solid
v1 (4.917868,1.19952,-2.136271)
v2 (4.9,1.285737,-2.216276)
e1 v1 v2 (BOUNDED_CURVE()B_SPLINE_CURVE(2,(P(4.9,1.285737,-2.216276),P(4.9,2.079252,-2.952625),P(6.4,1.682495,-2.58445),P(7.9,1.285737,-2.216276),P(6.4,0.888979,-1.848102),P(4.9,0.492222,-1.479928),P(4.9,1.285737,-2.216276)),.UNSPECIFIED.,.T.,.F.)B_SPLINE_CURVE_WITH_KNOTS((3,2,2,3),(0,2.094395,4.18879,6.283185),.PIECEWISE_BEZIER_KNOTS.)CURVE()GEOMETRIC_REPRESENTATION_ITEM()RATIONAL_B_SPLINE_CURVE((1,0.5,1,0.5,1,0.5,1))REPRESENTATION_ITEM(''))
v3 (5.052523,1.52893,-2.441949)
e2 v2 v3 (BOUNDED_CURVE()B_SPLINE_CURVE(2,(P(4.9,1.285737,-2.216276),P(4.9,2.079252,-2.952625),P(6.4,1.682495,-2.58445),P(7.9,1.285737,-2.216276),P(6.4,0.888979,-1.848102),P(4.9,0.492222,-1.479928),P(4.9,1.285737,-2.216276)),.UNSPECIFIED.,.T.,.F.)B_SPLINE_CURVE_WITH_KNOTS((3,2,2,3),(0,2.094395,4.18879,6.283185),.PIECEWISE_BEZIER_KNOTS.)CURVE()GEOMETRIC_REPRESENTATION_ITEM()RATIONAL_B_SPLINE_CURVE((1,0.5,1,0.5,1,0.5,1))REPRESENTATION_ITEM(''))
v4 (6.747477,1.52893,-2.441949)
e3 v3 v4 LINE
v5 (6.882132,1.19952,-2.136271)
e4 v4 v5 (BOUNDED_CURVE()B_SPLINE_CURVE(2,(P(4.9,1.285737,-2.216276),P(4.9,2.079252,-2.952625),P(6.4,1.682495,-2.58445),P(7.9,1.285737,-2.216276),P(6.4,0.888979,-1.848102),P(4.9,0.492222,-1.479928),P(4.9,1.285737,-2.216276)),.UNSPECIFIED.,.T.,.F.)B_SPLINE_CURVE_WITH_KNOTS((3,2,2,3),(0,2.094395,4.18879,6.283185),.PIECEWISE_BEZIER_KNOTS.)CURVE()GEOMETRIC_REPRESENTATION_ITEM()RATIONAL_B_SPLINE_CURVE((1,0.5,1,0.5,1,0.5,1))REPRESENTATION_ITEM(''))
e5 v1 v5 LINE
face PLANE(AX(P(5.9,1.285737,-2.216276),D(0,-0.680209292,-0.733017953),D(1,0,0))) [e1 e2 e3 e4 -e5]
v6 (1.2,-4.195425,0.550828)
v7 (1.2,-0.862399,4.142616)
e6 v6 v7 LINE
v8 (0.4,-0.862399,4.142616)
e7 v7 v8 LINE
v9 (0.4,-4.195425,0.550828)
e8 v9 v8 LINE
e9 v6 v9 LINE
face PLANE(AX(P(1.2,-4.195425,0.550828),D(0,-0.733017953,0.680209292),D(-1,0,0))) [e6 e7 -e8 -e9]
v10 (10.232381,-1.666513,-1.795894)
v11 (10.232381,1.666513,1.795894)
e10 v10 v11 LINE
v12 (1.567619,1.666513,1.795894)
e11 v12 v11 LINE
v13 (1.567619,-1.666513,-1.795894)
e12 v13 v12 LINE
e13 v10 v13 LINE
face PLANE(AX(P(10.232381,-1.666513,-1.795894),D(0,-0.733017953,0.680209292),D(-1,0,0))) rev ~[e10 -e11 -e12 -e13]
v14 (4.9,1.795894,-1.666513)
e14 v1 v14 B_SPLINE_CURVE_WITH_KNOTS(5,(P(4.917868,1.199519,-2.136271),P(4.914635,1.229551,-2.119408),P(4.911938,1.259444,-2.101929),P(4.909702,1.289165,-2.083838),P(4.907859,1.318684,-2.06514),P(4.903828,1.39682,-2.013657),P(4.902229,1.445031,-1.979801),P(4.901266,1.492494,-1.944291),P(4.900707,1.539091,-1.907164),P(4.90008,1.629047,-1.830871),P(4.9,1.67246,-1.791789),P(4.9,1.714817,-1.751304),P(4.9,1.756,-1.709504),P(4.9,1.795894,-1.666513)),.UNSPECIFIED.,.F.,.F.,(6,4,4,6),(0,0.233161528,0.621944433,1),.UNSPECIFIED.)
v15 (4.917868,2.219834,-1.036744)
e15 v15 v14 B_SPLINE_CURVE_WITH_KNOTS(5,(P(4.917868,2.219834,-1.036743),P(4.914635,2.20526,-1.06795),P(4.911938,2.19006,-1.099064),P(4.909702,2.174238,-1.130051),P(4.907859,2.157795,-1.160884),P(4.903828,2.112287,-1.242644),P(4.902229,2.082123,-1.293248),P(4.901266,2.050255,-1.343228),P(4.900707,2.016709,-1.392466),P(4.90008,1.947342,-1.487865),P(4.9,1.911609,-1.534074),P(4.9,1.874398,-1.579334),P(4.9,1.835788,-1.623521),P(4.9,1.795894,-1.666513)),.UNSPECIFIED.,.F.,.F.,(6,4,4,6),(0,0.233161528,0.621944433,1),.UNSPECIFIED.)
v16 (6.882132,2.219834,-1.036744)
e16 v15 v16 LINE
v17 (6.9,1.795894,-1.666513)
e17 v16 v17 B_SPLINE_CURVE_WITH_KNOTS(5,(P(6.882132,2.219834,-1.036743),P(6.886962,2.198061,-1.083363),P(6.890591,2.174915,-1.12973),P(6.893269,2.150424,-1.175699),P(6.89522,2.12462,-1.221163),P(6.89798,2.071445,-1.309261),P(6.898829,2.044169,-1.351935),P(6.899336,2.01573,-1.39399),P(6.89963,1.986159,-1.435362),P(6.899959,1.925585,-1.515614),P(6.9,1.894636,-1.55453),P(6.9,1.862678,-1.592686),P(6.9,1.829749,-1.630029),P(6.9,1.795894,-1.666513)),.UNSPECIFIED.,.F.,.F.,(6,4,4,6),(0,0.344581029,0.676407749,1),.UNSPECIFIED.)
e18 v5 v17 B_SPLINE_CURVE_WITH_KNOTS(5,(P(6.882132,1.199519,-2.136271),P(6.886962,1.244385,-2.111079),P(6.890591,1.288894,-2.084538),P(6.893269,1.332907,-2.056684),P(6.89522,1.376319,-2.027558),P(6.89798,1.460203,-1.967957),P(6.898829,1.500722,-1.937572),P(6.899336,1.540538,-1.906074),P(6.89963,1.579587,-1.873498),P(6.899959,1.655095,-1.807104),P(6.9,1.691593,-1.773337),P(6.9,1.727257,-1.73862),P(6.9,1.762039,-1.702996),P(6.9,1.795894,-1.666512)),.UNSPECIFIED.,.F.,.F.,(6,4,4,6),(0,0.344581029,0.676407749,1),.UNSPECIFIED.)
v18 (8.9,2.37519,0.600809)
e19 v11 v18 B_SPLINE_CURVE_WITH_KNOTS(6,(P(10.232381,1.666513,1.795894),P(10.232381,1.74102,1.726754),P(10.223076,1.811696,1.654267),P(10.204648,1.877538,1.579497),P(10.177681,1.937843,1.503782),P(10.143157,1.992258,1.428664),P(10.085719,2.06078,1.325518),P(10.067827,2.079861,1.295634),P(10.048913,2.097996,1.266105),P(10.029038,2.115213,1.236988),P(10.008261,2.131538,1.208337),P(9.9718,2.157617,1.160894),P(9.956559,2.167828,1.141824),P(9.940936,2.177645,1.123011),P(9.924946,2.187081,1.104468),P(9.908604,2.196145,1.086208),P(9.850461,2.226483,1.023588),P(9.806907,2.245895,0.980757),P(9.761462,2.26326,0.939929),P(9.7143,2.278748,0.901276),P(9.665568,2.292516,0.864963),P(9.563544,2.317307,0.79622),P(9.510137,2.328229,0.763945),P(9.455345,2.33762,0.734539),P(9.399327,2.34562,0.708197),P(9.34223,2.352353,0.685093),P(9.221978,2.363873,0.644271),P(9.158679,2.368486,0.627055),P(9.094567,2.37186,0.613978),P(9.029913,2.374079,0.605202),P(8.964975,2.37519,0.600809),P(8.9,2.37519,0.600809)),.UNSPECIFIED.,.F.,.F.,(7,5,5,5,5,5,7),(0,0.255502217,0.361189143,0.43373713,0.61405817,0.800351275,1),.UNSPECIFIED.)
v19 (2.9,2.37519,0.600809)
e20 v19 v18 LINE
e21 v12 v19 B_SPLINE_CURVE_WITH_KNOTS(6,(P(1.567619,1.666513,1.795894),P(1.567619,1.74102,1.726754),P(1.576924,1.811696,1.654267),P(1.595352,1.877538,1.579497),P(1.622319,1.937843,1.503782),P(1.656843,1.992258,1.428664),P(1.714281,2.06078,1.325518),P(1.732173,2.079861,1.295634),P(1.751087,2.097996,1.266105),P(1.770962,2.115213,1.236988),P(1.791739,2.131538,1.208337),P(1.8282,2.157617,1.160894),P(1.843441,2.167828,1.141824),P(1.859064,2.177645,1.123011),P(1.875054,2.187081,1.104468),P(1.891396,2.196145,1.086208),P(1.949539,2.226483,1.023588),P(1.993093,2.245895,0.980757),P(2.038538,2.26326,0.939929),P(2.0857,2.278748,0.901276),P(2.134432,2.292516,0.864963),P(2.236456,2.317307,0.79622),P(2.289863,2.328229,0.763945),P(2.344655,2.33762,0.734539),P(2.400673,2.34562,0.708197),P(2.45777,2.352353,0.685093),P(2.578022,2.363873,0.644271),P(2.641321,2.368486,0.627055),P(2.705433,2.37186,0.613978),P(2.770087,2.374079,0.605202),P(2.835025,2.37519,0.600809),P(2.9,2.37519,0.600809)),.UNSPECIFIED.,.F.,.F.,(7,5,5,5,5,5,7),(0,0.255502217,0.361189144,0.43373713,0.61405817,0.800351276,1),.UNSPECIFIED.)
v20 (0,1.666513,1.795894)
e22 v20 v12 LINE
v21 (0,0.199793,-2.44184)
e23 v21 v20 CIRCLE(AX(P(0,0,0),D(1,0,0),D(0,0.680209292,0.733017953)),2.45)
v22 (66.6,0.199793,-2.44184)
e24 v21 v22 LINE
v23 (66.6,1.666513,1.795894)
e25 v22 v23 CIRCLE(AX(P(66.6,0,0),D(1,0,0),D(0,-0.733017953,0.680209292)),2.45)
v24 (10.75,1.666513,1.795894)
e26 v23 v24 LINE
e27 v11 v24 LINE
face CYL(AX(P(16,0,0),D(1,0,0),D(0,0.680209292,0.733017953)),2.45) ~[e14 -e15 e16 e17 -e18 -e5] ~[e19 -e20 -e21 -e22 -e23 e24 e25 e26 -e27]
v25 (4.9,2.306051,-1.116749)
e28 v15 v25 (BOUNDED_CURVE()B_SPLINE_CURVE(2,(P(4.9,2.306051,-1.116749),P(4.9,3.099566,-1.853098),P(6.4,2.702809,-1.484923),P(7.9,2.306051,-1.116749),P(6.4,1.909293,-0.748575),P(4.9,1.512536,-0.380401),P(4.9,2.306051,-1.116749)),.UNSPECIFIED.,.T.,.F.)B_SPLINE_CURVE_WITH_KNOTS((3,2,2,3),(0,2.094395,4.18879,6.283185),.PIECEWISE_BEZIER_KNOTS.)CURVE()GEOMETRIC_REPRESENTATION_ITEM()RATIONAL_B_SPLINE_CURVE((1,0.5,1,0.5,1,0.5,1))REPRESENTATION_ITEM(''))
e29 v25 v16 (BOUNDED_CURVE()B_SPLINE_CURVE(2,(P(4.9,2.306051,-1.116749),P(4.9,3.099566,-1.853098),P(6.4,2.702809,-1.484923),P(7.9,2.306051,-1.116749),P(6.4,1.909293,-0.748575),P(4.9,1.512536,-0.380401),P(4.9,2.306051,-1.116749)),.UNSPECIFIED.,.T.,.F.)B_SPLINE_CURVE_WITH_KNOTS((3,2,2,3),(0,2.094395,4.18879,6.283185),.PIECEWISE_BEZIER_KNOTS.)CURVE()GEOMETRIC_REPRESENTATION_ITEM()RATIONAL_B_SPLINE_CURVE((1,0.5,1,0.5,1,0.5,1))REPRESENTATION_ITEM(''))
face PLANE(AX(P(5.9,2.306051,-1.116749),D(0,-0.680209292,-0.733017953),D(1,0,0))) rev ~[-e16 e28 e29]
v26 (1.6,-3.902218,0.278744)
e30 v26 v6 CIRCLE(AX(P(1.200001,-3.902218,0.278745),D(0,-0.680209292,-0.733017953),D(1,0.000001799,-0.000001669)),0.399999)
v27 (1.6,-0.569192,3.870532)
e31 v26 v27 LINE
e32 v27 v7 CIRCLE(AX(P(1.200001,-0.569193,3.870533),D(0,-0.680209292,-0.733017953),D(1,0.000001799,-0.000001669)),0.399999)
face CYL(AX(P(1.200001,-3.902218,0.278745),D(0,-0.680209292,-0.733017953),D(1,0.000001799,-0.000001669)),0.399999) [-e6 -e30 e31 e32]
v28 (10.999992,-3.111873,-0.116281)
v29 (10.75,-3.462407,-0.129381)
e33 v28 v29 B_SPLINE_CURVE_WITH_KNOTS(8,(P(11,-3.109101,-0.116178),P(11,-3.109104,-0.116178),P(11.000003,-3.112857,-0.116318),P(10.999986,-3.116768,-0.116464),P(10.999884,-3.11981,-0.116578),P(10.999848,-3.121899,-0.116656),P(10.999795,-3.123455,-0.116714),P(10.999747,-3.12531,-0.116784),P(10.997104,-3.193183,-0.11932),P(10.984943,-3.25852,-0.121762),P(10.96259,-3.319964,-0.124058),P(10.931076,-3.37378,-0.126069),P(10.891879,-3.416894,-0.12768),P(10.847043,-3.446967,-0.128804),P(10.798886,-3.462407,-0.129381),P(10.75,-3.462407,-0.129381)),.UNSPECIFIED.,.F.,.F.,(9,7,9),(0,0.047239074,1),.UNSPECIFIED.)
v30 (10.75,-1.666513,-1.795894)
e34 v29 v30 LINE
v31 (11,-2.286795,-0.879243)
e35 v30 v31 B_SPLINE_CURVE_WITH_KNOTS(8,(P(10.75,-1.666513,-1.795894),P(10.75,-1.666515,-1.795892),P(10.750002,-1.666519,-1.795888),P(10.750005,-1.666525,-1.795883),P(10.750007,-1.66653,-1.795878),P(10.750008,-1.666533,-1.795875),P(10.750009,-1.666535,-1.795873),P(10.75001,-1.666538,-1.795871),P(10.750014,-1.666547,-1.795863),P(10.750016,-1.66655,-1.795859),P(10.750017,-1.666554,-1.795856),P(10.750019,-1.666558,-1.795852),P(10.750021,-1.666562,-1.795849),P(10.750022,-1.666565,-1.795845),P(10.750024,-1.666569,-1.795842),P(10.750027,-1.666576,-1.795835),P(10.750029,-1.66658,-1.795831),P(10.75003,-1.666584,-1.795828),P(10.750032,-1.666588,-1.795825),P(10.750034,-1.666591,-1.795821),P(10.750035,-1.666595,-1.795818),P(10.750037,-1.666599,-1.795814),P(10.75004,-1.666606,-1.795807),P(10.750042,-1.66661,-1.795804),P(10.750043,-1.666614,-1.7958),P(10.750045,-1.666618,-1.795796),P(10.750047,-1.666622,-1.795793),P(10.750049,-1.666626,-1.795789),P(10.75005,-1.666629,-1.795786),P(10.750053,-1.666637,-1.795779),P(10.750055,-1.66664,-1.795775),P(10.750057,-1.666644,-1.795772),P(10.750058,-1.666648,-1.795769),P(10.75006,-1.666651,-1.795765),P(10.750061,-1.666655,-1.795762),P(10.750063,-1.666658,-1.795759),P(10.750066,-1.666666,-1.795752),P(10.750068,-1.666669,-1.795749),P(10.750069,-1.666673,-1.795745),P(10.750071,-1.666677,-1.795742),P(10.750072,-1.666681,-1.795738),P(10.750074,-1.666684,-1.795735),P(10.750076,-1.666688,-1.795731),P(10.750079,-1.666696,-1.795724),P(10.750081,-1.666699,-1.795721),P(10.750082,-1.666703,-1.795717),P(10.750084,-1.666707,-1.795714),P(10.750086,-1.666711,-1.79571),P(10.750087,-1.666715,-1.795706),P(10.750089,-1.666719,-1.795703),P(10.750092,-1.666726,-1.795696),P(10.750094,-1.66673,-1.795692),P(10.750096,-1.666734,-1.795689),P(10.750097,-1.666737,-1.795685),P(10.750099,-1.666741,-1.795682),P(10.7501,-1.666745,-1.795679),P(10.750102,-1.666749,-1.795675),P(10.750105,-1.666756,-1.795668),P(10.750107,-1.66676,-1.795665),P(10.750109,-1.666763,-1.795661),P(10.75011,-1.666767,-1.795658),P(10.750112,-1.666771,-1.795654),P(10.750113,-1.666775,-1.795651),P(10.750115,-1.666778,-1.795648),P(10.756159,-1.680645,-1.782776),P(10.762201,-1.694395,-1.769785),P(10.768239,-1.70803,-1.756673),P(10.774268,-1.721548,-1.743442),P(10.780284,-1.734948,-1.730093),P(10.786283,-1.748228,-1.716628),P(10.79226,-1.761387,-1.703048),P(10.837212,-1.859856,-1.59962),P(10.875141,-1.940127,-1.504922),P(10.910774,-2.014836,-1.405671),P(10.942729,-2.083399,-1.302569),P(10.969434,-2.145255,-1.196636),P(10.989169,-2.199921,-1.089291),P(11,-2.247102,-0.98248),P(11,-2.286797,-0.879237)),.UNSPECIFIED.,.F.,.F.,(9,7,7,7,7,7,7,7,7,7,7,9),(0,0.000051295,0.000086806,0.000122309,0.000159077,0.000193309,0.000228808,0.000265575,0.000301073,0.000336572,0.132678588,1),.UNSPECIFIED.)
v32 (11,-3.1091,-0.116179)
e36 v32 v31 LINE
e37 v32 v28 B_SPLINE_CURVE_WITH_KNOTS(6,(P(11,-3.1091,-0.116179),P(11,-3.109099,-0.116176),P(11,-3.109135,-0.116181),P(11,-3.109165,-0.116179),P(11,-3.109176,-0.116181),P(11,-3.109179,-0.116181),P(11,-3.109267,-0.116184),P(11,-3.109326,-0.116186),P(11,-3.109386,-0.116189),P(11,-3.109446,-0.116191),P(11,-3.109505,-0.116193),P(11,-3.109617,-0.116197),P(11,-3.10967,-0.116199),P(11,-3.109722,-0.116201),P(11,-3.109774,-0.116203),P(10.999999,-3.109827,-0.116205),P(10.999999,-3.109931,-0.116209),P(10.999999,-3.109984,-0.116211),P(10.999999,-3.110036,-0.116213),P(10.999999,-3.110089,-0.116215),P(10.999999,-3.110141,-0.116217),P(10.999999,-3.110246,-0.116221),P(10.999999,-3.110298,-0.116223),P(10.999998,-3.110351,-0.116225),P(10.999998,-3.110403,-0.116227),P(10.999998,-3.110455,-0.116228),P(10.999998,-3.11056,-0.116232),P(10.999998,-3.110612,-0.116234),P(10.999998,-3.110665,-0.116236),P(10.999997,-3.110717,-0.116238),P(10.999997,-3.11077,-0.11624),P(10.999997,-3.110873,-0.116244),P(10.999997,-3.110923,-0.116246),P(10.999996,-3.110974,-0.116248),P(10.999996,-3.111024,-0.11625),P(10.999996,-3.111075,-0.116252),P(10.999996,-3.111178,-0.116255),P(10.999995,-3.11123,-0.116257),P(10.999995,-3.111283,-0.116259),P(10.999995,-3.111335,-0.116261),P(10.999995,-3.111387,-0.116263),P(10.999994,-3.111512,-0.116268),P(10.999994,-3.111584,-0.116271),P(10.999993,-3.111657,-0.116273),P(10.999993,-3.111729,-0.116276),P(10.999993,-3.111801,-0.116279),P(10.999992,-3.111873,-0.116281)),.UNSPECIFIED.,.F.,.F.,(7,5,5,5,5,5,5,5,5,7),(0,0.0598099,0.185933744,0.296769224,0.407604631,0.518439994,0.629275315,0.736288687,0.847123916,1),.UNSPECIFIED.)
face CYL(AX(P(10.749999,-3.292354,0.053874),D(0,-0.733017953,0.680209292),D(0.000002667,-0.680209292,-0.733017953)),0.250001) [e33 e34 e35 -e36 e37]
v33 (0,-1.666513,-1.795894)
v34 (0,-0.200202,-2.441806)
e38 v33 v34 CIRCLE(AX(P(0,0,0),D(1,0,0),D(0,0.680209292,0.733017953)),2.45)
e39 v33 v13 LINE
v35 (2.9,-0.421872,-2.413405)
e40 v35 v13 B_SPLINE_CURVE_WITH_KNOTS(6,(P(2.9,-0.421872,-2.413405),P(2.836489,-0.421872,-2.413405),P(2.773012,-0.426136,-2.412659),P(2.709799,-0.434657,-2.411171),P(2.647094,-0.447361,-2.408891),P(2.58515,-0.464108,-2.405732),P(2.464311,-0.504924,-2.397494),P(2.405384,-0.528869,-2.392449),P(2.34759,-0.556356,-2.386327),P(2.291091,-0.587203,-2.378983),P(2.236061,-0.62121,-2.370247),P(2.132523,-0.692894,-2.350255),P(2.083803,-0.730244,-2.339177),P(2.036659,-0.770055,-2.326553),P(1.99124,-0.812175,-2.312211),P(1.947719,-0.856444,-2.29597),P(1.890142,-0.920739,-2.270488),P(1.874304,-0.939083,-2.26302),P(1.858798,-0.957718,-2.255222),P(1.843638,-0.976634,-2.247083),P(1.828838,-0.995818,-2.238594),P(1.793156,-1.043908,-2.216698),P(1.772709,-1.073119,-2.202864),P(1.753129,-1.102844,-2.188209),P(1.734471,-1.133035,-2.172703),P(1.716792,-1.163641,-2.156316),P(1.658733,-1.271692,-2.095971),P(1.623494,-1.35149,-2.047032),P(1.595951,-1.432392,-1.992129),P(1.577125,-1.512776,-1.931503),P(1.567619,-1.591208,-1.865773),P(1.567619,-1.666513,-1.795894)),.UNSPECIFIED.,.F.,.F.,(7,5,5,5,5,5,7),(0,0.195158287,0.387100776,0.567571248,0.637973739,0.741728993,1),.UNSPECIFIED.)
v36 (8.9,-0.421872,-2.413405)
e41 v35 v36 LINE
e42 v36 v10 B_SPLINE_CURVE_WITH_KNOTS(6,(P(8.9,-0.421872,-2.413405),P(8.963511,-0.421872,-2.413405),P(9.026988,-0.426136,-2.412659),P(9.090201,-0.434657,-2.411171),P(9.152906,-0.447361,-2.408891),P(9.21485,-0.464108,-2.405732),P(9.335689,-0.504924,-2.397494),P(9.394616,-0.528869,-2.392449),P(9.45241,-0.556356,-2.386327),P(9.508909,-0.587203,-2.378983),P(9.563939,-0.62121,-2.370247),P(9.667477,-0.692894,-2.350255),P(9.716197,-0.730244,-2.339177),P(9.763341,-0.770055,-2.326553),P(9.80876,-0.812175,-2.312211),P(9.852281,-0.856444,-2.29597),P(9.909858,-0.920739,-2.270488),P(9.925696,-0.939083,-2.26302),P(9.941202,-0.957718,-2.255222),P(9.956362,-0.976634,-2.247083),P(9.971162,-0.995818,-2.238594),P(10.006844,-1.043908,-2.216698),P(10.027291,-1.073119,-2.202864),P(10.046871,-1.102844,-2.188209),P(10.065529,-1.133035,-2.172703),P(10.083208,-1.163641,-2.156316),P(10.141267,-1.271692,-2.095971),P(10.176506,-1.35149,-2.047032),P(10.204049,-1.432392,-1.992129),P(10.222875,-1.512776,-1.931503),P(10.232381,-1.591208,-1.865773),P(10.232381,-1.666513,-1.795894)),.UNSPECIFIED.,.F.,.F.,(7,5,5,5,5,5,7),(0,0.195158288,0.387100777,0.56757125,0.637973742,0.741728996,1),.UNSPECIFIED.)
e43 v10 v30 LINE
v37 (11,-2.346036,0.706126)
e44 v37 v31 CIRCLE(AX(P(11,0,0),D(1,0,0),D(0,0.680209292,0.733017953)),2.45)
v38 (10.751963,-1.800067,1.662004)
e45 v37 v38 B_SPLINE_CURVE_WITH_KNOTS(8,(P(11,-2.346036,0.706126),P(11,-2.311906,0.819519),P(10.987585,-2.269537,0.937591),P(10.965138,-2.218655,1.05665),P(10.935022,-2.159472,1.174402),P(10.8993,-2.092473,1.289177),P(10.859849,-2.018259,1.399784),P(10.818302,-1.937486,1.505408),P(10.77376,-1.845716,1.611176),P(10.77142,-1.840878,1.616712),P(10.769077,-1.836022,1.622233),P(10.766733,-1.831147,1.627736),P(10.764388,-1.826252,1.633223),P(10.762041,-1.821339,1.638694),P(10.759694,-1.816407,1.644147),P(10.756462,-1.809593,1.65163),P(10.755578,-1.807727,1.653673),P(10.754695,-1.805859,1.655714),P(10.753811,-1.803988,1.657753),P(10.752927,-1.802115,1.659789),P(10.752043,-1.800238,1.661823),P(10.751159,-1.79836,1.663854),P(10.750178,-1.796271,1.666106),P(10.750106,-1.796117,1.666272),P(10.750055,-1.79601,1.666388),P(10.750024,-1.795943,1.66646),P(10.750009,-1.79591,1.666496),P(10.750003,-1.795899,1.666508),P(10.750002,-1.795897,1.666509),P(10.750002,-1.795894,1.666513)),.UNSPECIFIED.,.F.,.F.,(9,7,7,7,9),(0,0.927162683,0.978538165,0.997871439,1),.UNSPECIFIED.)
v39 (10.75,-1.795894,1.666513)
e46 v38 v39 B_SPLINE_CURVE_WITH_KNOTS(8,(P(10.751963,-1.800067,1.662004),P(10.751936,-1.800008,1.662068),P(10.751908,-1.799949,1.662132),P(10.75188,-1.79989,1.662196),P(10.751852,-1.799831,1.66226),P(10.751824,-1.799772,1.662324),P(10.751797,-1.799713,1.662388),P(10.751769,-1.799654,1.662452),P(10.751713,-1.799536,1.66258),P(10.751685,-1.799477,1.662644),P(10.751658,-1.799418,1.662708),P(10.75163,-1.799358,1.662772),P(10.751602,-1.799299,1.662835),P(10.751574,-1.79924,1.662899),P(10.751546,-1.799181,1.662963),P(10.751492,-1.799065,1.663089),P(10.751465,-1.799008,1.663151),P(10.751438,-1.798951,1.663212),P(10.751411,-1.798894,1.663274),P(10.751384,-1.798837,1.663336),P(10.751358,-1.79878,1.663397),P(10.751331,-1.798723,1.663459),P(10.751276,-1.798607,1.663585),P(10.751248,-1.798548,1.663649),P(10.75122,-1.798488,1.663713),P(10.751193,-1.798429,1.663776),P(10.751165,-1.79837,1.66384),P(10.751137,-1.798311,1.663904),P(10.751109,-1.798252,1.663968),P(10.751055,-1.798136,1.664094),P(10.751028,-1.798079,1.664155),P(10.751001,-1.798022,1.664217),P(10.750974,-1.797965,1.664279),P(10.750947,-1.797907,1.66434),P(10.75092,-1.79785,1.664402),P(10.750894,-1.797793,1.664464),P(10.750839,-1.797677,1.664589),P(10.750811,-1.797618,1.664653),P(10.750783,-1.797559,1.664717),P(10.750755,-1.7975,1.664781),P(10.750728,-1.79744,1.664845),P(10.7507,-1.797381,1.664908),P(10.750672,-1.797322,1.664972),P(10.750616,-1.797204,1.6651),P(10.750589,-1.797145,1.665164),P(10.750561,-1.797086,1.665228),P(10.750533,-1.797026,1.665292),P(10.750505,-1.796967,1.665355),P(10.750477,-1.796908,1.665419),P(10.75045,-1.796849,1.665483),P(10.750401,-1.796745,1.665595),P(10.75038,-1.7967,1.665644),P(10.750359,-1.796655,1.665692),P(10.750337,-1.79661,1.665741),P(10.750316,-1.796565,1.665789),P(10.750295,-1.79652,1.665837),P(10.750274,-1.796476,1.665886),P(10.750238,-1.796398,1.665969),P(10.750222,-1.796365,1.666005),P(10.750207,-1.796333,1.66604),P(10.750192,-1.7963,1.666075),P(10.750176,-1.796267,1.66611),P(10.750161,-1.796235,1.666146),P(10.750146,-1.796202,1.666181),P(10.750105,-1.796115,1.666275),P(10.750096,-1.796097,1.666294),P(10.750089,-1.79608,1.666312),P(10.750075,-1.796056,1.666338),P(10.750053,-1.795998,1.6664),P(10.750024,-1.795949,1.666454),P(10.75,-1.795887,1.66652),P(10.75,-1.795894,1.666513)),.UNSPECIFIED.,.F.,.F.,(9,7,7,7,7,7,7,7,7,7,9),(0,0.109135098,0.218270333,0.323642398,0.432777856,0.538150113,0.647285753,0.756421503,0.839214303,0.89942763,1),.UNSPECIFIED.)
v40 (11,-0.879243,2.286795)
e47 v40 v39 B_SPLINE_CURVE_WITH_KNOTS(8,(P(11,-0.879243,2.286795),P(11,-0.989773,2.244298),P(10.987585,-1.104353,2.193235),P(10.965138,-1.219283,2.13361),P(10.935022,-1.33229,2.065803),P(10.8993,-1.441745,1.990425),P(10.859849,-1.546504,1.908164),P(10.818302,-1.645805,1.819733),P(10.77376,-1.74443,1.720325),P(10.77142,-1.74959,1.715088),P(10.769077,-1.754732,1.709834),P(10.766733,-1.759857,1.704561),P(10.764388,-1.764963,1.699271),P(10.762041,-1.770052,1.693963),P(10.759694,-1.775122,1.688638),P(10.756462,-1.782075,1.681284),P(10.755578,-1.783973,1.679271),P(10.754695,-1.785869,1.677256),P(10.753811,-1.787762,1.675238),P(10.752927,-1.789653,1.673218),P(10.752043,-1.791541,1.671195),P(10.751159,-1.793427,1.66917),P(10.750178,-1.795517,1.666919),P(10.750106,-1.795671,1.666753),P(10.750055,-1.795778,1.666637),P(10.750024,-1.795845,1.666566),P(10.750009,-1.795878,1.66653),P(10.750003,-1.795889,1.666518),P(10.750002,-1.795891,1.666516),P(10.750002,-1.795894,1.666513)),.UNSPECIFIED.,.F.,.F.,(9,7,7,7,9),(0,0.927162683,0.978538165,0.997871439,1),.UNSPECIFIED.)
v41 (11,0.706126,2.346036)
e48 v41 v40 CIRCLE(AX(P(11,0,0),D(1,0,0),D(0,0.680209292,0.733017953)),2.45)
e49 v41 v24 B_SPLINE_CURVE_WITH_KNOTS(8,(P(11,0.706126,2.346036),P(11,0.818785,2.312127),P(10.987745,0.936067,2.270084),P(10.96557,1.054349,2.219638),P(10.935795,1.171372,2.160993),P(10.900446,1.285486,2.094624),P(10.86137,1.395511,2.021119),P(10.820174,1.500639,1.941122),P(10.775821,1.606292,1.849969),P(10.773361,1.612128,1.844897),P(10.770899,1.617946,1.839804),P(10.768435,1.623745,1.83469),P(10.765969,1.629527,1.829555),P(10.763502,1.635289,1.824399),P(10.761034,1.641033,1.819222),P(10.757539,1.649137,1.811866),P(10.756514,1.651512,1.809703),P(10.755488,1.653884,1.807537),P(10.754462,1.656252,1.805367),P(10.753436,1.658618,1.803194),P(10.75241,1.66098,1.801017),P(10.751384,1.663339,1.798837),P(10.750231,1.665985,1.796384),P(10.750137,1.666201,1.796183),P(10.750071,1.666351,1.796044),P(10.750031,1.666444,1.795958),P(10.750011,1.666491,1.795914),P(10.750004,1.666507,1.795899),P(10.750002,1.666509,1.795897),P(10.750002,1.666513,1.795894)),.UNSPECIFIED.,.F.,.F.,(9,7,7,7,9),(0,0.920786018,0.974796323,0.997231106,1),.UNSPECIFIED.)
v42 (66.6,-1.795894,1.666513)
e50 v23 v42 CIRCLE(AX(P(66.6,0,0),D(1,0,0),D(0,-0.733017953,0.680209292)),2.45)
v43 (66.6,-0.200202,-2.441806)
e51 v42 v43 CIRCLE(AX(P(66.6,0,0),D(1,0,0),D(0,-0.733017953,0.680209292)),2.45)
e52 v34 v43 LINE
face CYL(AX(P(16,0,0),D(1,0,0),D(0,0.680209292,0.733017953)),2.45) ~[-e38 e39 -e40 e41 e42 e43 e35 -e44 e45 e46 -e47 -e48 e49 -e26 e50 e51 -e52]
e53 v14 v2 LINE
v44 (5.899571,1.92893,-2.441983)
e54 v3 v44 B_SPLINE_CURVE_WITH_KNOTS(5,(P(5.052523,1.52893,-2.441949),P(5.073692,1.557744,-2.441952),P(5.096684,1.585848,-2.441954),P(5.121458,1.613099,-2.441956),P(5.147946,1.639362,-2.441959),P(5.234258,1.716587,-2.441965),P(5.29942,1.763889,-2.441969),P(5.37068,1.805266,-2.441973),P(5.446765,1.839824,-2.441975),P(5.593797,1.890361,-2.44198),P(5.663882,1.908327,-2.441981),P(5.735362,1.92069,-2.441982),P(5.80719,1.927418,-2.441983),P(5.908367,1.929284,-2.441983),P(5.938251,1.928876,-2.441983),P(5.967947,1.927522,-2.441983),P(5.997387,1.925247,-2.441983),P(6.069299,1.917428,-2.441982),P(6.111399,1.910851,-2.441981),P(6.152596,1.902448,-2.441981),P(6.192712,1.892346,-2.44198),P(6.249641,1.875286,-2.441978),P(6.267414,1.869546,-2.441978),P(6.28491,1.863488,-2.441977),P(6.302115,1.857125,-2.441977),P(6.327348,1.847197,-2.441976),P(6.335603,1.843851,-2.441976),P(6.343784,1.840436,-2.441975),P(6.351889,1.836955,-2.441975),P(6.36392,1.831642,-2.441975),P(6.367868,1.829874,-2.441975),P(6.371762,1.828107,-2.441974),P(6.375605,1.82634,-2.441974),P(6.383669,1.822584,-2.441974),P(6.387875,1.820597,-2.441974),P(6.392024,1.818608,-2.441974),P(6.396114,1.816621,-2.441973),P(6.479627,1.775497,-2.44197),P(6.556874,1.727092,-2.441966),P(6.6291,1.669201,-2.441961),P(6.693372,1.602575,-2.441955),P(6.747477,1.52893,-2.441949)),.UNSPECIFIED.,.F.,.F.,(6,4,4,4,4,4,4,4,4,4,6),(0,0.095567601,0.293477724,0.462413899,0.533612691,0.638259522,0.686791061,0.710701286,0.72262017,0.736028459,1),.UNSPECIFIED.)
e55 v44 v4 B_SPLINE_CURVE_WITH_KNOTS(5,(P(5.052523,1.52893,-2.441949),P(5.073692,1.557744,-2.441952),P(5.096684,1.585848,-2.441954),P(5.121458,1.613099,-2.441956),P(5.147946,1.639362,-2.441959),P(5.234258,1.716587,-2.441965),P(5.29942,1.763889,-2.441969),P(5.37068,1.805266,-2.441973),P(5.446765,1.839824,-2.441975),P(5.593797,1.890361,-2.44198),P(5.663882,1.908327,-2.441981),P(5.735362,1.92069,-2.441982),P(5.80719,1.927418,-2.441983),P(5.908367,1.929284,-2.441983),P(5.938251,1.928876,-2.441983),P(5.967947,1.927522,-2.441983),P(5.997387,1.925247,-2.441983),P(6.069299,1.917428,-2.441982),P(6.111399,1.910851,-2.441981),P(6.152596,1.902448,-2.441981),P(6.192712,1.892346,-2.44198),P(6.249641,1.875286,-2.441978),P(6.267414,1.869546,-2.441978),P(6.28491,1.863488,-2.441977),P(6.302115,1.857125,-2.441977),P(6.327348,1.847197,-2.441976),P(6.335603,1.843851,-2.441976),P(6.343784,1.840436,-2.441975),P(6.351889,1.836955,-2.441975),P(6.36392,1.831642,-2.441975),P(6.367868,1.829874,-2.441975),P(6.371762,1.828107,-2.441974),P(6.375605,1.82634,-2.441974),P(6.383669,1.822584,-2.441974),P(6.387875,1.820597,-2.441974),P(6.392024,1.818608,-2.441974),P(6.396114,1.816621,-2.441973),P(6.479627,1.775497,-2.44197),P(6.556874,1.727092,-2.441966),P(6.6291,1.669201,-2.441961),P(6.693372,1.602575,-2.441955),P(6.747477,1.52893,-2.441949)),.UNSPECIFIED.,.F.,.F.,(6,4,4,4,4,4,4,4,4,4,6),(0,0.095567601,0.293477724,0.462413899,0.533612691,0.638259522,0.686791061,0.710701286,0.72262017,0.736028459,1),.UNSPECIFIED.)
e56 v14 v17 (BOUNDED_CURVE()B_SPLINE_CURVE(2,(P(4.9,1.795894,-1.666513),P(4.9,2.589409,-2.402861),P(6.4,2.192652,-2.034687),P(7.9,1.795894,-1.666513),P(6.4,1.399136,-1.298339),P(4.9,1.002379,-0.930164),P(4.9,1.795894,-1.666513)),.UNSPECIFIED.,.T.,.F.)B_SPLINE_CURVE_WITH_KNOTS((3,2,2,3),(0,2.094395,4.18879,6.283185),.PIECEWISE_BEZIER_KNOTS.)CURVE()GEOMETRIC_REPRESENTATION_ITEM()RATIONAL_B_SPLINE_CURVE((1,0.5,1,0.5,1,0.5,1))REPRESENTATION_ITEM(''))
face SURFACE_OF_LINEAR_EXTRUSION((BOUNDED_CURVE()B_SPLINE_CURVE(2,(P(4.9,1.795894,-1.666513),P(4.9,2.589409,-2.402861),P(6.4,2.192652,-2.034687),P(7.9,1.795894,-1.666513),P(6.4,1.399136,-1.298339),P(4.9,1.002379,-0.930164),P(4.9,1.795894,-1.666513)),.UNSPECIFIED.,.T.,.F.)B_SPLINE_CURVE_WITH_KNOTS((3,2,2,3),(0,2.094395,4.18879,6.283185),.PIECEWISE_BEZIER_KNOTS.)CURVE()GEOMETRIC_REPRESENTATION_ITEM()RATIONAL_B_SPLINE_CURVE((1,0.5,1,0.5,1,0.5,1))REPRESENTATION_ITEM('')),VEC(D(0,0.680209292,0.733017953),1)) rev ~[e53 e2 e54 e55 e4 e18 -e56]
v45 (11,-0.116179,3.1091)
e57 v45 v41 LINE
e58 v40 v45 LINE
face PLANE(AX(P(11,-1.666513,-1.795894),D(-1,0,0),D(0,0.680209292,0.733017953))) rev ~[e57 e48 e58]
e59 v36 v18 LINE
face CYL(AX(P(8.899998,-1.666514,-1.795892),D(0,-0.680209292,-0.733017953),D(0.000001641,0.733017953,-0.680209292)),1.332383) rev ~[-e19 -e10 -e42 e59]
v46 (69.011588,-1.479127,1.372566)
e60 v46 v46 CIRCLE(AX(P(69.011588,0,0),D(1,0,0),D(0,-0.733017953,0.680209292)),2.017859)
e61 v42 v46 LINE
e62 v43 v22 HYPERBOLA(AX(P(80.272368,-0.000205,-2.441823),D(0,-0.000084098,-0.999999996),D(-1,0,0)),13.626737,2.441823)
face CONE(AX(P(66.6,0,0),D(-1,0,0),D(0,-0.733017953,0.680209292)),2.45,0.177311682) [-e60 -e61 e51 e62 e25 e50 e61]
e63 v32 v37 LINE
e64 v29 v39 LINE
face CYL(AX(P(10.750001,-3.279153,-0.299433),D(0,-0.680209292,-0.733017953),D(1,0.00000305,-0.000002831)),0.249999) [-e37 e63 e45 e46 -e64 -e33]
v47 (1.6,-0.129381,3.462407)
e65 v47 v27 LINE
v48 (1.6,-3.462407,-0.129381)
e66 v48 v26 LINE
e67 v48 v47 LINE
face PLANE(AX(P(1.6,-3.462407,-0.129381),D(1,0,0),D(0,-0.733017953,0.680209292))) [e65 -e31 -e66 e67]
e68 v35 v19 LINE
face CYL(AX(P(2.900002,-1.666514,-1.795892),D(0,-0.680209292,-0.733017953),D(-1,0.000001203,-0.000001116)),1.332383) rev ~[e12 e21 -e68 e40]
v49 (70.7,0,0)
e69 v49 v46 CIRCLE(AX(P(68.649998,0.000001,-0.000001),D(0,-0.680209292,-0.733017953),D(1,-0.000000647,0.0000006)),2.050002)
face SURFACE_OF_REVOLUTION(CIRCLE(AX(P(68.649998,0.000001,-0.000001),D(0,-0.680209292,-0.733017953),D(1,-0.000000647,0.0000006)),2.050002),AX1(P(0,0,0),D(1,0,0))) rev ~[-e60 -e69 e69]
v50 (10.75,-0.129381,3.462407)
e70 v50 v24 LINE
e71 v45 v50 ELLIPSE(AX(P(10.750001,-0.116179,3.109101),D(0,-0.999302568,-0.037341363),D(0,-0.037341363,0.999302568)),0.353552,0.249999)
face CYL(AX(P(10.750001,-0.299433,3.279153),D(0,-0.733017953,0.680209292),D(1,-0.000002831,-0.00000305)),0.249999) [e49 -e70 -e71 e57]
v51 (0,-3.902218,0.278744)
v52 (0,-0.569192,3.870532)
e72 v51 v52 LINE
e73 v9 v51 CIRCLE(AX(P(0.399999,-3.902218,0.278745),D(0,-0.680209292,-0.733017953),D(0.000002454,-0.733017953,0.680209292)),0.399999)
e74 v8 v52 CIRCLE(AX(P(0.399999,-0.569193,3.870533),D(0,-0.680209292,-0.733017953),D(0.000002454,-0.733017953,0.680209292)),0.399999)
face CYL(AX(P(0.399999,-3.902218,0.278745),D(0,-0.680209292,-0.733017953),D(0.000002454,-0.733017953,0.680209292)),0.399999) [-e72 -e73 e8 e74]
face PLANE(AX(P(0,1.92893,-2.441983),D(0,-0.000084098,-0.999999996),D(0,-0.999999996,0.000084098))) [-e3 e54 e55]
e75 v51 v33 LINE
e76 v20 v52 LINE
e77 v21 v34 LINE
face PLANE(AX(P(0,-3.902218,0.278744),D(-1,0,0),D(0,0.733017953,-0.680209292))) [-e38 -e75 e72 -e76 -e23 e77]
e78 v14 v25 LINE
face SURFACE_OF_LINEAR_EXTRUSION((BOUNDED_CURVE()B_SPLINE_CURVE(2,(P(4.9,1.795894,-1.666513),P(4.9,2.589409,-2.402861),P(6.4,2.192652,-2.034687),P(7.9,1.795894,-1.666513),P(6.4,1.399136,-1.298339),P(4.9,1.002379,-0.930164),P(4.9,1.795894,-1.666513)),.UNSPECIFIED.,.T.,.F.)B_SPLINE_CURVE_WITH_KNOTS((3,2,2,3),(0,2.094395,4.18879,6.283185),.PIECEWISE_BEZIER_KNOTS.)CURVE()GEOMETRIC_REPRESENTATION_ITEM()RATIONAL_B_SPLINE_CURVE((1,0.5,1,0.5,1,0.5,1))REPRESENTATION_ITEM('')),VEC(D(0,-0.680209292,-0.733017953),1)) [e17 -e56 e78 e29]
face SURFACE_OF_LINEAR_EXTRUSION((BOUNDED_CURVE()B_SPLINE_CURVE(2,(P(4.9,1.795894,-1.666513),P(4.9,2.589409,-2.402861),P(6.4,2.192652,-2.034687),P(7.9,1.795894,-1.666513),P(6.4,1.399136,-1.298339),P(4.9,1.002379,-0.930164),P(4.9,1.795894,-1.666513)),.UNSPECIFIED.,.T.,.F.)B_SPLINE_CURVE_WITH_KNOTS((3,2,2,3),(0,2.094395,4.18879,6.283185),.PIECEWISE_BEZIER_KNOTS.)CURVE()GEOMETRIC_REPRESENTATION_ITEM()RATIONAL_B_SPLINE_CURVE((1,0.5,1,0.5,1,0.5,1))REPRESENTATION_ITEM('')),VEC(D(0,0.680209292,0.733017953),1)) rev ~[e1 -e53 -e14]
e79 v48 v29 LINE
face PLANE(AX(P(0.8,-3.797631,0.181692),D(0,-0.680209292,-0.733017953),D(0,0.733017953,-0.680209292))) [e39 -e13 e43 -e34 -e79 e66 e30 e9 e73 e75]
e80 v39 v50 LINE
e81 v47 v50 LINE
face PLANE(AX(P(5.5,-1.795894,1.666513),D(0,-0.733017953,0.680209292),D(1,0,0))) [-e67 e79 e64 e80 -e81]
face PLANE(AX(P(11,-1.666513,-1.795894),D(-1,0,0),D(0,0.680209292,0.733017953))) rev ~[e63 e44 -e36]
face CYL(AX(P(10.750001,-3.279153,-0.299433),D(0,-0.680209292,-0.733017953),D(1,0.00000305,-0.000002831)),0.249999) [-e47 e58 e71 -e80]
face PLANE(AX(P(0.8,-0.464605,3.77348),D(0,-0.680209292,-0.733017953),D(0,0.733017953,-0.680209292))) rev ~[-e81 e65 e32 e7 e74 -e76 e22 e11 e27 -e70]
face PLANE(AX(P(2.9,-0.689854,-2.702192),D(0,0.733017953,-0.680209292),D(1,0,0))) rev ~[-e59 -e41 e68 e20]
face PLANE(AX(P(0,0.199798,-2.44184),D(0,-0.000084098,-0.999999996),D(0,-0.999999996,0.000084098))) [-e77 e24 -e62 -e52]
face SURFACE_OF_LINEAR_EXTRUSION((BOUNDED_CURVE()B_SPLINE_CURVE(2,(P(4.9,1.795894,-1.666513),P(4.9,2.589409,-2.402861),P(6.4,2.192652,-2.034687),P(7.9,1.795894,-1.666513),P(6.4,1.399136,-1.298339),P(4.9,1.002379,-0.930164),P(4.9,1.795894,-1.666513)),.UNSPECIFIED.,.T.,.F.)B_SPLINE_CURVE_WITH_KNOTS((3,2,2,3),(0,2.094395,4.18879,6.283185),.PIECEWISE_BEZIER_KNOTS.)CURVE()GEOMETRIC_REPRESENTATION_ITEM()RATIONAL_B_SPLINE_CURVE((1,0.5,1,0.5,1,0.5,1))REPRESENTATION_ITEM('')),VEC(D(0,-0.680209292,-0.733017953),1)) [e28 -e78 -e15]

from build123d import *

# Parameters (mm, degrees)
SKETCH009_R             = 2.45
PAD005_DEPTH            = 70.7
SKETCH010_W             = 11
SKETCH010_H             = 4.9
PAD006_DEPTH            = 2.45
POCKET003_DEPTH         = 5
POCKET_DEPTH            = 2.45
POCKET004_DEPTH         = 4.901
SKETCH_R                = 2.45
PAD_DEPTH               = 5.25
PAD007_DEPTH            = 4.9
PAD008_DEPTH            = 0.75
PAD008_DEPTH_BACK       = 0.75
POCKET005_DEPTH         = 4.901
POCKET006_DEPTH         = 70.701
BODY001_PLACEMENT_ANGLE = 47.14


with BuildPart() as part:
    # Sketch009 → Pad005 (new body)
    with BuildSketch(Plane.YZ):
        Circle(SKETCH009_R)
    extrude(amount=PAD005_DEPTH)

    # Sketch010 → Pad006 (join)
    with BuildSketch(Plane.XY):
        with Locations((5.5, 0)):
            Rectangle(SKETCH010_W, SKETCH010_H)
    extrude(amount=PAD006_DEPTH)

    # Sketch013 (on Face4 of Pad006) → Pocket003 (cut)
    with BuildSketch(Plane.YZ.offset(11)):
        with BuildLine():
            ThreePointArc((2.45, 0), (0, 2.45), (-2.45, 0))
            Line((-2.45, 0), (2.45, 0))
        make_face()
    extrude(amount=POCKET003_DEPTH, mode=Mode.SUBTRACT)

    # Sketch012 (on Face8 of Pad006) → Pocket (cut)
    with BuildSketch(Plane(origin=(0, 0, 2.45), x_dir=(0, -1, 0), z_dir=(0, 0, 1))):
        with BuildLine():
            ThreePointArc((-2.2, 11), (-2.376777, 10.926777), (-2.45, 10.75))
            Line((-3.45, 10.75), (-2.45, 10.75))
            Line((-3.45, 11), (-3.45, 10.75))
            Line((-2.2, 11), (-3.45, 11))
        make_face()
        with BuildLine():
            Line((2.2, 11), (3.45, 11))
            Line((3.45, 11), (3.45, 10.75))
            Line((3.45, 10.75), (2.45, 10.75))
            ThreePointArc((2.45, 10.75), (2.376776, 10.926777), (2.2, 11))
        make_face()
    extrude(amount=-POCKET_DEPTH, mode=Mode.SUBTRACT)

    # Sketch011 (on Face3 of Pad006) → Pocket004 (cut, through all)
    with BuildSketch(Plane(origin=(0, -2.45, 0), x_dir=(0, 0, -1), z_dir=(0, -1, 0))):
        with BuildLine():
            Line((-2.45, 11), (-2.2, 11))
            ThreePointArc((-2.2, 11), (-2.376777, 10.926777), (-2.45, 10.75))
            Line((-2.45, 11), (-2.45, 10.75))
        make_face()
    extrude(amount=-POCKET004_DEPTH, mode=Mode.SUBTRACT)

    # Sketch (on Face6 of Pocket004) → Pad (join)
    with BuildSketch(Plane(origin=(16, 0, 0), x_dir=(0, 1, 0), z_dir=(-1, 0, 0))):
        Circle(SKETCH_R)
    extrude(amount=PAD_DEPTH)

    # Sketch014 (on Face5 of Pad) → Pad007 (join)
    with BuildSketch(Plane(origin=(0, -2.45, 0), x_dir=(0, 0, -1), z_dir=(0, -1, 0))):
        with BuildLine():
            Line((-2.45, 0), (-2.45, 1.6))
            Line((-2.45, 1.6), (-3.05, 1.6))
            ThreePointArc((-3.05, 1.6), (-3.332843, 1.482843), (-3.45, 1.2))
            Line((-3.45, 1.2), (-3.45, 0.4))
            ThreePointArc((-3.45, 0.4), (-3.332843, 0.117157), (-3.05, 0))
            Line((-3.05, 0), (-2.45, 0))
        make_face()
    extrude(amount=-PAD007_DEPTH)

    # Sketch015 → Pad008 (join, two sides)
    with BuildSketch(Plane.XZ) as pad008_sk:
        with BuildLine():
            add(Edge.make_bspline(
                [(4.9, -2.45), (4.9, -3.532532), (6.4, -2.991266), (7.9, -2.45), (6.4, -1.908734), (4.9, -1.367468), (4.9, -2.45)],
                knots=[0, 0, 0, 2.094395, 2.094395, 4.18879, 4.18879, 6.283185, 6.283185, 6.283185], degree=2, weights=[1, 0.5, 1, 0.5, 1, 0.5, 1]))
        make_face()
    extrude(amount=PAD008_DEPTH)
    extrude(pad008_sk.sketch, amount=-PAD008_DEPTH_BACK)

    # Sketch016 (on Face2 of Pad008) → Pocket005 (cut, through all)
    with BuildSketch(Plane(origin=(0, -2.45, 0), x_dir=(0, 0, -1), z_dir=(0, -1, 0))):
        with BuildLine():
            Line((1.332381, 2.9), (1.332381, 8.9))
            ThreePointArc((1.332381, 8.9), (0.942135, 9.842135), (0, 10.232381))
            Line((0, 10.232381), (0, 1.567619))
            ThreePointArc((0, 1.567619), (0.942135, 1.957865), (1.332381, 2.9))
        make_face()
    extrude(amount=-POCKET005_DEPTH, mode=Mode.SUBTRACT)

    # Sketch017 → Groove (revolve, cut)
    with BuildSketch(Plane.XZ):
        with BuildLine():
            ThreePointArc((70.7, 0), (70.22222, 1.315531), (69.011588, 2.017859))
            Line((66.6, 2.45), (69.011588, 2.017859))
            Line((66.6, 2.45), (70.7, 2.45))
            Line((70.7, 2.45), (72.7, 2.45))
            Line((72.7, 0), (72.7, 2.45))
            Line((70.7, 0), (72.7, 0))
        make_face()
    revolve(axis=Axis((0, 0, 0), (1, 0, 0)), mode=Mode.SUBTRACT)

    # Sketch018 → Pocket006 (cut, through all)
    with BuildSketch(Plane.YZ):
        Polygon((-0.477941, -3.075), (-0.75, -2.78177), (-1.654008, -1.807418), (-1.926067, -1.514188), (-1.926067, -3.075), align=None)
    extrude(amount=POCKET006_DEPTH, mode=Mode.SUBTRACT)


with BuildPart() as part_1:
    # Body001 placement: moved
    add(part.part.rotate(Axis((0, 0, 0), (1, 0, 0)), BODY001_PLACEMENT_ANGLE))


solid = part_1.part
